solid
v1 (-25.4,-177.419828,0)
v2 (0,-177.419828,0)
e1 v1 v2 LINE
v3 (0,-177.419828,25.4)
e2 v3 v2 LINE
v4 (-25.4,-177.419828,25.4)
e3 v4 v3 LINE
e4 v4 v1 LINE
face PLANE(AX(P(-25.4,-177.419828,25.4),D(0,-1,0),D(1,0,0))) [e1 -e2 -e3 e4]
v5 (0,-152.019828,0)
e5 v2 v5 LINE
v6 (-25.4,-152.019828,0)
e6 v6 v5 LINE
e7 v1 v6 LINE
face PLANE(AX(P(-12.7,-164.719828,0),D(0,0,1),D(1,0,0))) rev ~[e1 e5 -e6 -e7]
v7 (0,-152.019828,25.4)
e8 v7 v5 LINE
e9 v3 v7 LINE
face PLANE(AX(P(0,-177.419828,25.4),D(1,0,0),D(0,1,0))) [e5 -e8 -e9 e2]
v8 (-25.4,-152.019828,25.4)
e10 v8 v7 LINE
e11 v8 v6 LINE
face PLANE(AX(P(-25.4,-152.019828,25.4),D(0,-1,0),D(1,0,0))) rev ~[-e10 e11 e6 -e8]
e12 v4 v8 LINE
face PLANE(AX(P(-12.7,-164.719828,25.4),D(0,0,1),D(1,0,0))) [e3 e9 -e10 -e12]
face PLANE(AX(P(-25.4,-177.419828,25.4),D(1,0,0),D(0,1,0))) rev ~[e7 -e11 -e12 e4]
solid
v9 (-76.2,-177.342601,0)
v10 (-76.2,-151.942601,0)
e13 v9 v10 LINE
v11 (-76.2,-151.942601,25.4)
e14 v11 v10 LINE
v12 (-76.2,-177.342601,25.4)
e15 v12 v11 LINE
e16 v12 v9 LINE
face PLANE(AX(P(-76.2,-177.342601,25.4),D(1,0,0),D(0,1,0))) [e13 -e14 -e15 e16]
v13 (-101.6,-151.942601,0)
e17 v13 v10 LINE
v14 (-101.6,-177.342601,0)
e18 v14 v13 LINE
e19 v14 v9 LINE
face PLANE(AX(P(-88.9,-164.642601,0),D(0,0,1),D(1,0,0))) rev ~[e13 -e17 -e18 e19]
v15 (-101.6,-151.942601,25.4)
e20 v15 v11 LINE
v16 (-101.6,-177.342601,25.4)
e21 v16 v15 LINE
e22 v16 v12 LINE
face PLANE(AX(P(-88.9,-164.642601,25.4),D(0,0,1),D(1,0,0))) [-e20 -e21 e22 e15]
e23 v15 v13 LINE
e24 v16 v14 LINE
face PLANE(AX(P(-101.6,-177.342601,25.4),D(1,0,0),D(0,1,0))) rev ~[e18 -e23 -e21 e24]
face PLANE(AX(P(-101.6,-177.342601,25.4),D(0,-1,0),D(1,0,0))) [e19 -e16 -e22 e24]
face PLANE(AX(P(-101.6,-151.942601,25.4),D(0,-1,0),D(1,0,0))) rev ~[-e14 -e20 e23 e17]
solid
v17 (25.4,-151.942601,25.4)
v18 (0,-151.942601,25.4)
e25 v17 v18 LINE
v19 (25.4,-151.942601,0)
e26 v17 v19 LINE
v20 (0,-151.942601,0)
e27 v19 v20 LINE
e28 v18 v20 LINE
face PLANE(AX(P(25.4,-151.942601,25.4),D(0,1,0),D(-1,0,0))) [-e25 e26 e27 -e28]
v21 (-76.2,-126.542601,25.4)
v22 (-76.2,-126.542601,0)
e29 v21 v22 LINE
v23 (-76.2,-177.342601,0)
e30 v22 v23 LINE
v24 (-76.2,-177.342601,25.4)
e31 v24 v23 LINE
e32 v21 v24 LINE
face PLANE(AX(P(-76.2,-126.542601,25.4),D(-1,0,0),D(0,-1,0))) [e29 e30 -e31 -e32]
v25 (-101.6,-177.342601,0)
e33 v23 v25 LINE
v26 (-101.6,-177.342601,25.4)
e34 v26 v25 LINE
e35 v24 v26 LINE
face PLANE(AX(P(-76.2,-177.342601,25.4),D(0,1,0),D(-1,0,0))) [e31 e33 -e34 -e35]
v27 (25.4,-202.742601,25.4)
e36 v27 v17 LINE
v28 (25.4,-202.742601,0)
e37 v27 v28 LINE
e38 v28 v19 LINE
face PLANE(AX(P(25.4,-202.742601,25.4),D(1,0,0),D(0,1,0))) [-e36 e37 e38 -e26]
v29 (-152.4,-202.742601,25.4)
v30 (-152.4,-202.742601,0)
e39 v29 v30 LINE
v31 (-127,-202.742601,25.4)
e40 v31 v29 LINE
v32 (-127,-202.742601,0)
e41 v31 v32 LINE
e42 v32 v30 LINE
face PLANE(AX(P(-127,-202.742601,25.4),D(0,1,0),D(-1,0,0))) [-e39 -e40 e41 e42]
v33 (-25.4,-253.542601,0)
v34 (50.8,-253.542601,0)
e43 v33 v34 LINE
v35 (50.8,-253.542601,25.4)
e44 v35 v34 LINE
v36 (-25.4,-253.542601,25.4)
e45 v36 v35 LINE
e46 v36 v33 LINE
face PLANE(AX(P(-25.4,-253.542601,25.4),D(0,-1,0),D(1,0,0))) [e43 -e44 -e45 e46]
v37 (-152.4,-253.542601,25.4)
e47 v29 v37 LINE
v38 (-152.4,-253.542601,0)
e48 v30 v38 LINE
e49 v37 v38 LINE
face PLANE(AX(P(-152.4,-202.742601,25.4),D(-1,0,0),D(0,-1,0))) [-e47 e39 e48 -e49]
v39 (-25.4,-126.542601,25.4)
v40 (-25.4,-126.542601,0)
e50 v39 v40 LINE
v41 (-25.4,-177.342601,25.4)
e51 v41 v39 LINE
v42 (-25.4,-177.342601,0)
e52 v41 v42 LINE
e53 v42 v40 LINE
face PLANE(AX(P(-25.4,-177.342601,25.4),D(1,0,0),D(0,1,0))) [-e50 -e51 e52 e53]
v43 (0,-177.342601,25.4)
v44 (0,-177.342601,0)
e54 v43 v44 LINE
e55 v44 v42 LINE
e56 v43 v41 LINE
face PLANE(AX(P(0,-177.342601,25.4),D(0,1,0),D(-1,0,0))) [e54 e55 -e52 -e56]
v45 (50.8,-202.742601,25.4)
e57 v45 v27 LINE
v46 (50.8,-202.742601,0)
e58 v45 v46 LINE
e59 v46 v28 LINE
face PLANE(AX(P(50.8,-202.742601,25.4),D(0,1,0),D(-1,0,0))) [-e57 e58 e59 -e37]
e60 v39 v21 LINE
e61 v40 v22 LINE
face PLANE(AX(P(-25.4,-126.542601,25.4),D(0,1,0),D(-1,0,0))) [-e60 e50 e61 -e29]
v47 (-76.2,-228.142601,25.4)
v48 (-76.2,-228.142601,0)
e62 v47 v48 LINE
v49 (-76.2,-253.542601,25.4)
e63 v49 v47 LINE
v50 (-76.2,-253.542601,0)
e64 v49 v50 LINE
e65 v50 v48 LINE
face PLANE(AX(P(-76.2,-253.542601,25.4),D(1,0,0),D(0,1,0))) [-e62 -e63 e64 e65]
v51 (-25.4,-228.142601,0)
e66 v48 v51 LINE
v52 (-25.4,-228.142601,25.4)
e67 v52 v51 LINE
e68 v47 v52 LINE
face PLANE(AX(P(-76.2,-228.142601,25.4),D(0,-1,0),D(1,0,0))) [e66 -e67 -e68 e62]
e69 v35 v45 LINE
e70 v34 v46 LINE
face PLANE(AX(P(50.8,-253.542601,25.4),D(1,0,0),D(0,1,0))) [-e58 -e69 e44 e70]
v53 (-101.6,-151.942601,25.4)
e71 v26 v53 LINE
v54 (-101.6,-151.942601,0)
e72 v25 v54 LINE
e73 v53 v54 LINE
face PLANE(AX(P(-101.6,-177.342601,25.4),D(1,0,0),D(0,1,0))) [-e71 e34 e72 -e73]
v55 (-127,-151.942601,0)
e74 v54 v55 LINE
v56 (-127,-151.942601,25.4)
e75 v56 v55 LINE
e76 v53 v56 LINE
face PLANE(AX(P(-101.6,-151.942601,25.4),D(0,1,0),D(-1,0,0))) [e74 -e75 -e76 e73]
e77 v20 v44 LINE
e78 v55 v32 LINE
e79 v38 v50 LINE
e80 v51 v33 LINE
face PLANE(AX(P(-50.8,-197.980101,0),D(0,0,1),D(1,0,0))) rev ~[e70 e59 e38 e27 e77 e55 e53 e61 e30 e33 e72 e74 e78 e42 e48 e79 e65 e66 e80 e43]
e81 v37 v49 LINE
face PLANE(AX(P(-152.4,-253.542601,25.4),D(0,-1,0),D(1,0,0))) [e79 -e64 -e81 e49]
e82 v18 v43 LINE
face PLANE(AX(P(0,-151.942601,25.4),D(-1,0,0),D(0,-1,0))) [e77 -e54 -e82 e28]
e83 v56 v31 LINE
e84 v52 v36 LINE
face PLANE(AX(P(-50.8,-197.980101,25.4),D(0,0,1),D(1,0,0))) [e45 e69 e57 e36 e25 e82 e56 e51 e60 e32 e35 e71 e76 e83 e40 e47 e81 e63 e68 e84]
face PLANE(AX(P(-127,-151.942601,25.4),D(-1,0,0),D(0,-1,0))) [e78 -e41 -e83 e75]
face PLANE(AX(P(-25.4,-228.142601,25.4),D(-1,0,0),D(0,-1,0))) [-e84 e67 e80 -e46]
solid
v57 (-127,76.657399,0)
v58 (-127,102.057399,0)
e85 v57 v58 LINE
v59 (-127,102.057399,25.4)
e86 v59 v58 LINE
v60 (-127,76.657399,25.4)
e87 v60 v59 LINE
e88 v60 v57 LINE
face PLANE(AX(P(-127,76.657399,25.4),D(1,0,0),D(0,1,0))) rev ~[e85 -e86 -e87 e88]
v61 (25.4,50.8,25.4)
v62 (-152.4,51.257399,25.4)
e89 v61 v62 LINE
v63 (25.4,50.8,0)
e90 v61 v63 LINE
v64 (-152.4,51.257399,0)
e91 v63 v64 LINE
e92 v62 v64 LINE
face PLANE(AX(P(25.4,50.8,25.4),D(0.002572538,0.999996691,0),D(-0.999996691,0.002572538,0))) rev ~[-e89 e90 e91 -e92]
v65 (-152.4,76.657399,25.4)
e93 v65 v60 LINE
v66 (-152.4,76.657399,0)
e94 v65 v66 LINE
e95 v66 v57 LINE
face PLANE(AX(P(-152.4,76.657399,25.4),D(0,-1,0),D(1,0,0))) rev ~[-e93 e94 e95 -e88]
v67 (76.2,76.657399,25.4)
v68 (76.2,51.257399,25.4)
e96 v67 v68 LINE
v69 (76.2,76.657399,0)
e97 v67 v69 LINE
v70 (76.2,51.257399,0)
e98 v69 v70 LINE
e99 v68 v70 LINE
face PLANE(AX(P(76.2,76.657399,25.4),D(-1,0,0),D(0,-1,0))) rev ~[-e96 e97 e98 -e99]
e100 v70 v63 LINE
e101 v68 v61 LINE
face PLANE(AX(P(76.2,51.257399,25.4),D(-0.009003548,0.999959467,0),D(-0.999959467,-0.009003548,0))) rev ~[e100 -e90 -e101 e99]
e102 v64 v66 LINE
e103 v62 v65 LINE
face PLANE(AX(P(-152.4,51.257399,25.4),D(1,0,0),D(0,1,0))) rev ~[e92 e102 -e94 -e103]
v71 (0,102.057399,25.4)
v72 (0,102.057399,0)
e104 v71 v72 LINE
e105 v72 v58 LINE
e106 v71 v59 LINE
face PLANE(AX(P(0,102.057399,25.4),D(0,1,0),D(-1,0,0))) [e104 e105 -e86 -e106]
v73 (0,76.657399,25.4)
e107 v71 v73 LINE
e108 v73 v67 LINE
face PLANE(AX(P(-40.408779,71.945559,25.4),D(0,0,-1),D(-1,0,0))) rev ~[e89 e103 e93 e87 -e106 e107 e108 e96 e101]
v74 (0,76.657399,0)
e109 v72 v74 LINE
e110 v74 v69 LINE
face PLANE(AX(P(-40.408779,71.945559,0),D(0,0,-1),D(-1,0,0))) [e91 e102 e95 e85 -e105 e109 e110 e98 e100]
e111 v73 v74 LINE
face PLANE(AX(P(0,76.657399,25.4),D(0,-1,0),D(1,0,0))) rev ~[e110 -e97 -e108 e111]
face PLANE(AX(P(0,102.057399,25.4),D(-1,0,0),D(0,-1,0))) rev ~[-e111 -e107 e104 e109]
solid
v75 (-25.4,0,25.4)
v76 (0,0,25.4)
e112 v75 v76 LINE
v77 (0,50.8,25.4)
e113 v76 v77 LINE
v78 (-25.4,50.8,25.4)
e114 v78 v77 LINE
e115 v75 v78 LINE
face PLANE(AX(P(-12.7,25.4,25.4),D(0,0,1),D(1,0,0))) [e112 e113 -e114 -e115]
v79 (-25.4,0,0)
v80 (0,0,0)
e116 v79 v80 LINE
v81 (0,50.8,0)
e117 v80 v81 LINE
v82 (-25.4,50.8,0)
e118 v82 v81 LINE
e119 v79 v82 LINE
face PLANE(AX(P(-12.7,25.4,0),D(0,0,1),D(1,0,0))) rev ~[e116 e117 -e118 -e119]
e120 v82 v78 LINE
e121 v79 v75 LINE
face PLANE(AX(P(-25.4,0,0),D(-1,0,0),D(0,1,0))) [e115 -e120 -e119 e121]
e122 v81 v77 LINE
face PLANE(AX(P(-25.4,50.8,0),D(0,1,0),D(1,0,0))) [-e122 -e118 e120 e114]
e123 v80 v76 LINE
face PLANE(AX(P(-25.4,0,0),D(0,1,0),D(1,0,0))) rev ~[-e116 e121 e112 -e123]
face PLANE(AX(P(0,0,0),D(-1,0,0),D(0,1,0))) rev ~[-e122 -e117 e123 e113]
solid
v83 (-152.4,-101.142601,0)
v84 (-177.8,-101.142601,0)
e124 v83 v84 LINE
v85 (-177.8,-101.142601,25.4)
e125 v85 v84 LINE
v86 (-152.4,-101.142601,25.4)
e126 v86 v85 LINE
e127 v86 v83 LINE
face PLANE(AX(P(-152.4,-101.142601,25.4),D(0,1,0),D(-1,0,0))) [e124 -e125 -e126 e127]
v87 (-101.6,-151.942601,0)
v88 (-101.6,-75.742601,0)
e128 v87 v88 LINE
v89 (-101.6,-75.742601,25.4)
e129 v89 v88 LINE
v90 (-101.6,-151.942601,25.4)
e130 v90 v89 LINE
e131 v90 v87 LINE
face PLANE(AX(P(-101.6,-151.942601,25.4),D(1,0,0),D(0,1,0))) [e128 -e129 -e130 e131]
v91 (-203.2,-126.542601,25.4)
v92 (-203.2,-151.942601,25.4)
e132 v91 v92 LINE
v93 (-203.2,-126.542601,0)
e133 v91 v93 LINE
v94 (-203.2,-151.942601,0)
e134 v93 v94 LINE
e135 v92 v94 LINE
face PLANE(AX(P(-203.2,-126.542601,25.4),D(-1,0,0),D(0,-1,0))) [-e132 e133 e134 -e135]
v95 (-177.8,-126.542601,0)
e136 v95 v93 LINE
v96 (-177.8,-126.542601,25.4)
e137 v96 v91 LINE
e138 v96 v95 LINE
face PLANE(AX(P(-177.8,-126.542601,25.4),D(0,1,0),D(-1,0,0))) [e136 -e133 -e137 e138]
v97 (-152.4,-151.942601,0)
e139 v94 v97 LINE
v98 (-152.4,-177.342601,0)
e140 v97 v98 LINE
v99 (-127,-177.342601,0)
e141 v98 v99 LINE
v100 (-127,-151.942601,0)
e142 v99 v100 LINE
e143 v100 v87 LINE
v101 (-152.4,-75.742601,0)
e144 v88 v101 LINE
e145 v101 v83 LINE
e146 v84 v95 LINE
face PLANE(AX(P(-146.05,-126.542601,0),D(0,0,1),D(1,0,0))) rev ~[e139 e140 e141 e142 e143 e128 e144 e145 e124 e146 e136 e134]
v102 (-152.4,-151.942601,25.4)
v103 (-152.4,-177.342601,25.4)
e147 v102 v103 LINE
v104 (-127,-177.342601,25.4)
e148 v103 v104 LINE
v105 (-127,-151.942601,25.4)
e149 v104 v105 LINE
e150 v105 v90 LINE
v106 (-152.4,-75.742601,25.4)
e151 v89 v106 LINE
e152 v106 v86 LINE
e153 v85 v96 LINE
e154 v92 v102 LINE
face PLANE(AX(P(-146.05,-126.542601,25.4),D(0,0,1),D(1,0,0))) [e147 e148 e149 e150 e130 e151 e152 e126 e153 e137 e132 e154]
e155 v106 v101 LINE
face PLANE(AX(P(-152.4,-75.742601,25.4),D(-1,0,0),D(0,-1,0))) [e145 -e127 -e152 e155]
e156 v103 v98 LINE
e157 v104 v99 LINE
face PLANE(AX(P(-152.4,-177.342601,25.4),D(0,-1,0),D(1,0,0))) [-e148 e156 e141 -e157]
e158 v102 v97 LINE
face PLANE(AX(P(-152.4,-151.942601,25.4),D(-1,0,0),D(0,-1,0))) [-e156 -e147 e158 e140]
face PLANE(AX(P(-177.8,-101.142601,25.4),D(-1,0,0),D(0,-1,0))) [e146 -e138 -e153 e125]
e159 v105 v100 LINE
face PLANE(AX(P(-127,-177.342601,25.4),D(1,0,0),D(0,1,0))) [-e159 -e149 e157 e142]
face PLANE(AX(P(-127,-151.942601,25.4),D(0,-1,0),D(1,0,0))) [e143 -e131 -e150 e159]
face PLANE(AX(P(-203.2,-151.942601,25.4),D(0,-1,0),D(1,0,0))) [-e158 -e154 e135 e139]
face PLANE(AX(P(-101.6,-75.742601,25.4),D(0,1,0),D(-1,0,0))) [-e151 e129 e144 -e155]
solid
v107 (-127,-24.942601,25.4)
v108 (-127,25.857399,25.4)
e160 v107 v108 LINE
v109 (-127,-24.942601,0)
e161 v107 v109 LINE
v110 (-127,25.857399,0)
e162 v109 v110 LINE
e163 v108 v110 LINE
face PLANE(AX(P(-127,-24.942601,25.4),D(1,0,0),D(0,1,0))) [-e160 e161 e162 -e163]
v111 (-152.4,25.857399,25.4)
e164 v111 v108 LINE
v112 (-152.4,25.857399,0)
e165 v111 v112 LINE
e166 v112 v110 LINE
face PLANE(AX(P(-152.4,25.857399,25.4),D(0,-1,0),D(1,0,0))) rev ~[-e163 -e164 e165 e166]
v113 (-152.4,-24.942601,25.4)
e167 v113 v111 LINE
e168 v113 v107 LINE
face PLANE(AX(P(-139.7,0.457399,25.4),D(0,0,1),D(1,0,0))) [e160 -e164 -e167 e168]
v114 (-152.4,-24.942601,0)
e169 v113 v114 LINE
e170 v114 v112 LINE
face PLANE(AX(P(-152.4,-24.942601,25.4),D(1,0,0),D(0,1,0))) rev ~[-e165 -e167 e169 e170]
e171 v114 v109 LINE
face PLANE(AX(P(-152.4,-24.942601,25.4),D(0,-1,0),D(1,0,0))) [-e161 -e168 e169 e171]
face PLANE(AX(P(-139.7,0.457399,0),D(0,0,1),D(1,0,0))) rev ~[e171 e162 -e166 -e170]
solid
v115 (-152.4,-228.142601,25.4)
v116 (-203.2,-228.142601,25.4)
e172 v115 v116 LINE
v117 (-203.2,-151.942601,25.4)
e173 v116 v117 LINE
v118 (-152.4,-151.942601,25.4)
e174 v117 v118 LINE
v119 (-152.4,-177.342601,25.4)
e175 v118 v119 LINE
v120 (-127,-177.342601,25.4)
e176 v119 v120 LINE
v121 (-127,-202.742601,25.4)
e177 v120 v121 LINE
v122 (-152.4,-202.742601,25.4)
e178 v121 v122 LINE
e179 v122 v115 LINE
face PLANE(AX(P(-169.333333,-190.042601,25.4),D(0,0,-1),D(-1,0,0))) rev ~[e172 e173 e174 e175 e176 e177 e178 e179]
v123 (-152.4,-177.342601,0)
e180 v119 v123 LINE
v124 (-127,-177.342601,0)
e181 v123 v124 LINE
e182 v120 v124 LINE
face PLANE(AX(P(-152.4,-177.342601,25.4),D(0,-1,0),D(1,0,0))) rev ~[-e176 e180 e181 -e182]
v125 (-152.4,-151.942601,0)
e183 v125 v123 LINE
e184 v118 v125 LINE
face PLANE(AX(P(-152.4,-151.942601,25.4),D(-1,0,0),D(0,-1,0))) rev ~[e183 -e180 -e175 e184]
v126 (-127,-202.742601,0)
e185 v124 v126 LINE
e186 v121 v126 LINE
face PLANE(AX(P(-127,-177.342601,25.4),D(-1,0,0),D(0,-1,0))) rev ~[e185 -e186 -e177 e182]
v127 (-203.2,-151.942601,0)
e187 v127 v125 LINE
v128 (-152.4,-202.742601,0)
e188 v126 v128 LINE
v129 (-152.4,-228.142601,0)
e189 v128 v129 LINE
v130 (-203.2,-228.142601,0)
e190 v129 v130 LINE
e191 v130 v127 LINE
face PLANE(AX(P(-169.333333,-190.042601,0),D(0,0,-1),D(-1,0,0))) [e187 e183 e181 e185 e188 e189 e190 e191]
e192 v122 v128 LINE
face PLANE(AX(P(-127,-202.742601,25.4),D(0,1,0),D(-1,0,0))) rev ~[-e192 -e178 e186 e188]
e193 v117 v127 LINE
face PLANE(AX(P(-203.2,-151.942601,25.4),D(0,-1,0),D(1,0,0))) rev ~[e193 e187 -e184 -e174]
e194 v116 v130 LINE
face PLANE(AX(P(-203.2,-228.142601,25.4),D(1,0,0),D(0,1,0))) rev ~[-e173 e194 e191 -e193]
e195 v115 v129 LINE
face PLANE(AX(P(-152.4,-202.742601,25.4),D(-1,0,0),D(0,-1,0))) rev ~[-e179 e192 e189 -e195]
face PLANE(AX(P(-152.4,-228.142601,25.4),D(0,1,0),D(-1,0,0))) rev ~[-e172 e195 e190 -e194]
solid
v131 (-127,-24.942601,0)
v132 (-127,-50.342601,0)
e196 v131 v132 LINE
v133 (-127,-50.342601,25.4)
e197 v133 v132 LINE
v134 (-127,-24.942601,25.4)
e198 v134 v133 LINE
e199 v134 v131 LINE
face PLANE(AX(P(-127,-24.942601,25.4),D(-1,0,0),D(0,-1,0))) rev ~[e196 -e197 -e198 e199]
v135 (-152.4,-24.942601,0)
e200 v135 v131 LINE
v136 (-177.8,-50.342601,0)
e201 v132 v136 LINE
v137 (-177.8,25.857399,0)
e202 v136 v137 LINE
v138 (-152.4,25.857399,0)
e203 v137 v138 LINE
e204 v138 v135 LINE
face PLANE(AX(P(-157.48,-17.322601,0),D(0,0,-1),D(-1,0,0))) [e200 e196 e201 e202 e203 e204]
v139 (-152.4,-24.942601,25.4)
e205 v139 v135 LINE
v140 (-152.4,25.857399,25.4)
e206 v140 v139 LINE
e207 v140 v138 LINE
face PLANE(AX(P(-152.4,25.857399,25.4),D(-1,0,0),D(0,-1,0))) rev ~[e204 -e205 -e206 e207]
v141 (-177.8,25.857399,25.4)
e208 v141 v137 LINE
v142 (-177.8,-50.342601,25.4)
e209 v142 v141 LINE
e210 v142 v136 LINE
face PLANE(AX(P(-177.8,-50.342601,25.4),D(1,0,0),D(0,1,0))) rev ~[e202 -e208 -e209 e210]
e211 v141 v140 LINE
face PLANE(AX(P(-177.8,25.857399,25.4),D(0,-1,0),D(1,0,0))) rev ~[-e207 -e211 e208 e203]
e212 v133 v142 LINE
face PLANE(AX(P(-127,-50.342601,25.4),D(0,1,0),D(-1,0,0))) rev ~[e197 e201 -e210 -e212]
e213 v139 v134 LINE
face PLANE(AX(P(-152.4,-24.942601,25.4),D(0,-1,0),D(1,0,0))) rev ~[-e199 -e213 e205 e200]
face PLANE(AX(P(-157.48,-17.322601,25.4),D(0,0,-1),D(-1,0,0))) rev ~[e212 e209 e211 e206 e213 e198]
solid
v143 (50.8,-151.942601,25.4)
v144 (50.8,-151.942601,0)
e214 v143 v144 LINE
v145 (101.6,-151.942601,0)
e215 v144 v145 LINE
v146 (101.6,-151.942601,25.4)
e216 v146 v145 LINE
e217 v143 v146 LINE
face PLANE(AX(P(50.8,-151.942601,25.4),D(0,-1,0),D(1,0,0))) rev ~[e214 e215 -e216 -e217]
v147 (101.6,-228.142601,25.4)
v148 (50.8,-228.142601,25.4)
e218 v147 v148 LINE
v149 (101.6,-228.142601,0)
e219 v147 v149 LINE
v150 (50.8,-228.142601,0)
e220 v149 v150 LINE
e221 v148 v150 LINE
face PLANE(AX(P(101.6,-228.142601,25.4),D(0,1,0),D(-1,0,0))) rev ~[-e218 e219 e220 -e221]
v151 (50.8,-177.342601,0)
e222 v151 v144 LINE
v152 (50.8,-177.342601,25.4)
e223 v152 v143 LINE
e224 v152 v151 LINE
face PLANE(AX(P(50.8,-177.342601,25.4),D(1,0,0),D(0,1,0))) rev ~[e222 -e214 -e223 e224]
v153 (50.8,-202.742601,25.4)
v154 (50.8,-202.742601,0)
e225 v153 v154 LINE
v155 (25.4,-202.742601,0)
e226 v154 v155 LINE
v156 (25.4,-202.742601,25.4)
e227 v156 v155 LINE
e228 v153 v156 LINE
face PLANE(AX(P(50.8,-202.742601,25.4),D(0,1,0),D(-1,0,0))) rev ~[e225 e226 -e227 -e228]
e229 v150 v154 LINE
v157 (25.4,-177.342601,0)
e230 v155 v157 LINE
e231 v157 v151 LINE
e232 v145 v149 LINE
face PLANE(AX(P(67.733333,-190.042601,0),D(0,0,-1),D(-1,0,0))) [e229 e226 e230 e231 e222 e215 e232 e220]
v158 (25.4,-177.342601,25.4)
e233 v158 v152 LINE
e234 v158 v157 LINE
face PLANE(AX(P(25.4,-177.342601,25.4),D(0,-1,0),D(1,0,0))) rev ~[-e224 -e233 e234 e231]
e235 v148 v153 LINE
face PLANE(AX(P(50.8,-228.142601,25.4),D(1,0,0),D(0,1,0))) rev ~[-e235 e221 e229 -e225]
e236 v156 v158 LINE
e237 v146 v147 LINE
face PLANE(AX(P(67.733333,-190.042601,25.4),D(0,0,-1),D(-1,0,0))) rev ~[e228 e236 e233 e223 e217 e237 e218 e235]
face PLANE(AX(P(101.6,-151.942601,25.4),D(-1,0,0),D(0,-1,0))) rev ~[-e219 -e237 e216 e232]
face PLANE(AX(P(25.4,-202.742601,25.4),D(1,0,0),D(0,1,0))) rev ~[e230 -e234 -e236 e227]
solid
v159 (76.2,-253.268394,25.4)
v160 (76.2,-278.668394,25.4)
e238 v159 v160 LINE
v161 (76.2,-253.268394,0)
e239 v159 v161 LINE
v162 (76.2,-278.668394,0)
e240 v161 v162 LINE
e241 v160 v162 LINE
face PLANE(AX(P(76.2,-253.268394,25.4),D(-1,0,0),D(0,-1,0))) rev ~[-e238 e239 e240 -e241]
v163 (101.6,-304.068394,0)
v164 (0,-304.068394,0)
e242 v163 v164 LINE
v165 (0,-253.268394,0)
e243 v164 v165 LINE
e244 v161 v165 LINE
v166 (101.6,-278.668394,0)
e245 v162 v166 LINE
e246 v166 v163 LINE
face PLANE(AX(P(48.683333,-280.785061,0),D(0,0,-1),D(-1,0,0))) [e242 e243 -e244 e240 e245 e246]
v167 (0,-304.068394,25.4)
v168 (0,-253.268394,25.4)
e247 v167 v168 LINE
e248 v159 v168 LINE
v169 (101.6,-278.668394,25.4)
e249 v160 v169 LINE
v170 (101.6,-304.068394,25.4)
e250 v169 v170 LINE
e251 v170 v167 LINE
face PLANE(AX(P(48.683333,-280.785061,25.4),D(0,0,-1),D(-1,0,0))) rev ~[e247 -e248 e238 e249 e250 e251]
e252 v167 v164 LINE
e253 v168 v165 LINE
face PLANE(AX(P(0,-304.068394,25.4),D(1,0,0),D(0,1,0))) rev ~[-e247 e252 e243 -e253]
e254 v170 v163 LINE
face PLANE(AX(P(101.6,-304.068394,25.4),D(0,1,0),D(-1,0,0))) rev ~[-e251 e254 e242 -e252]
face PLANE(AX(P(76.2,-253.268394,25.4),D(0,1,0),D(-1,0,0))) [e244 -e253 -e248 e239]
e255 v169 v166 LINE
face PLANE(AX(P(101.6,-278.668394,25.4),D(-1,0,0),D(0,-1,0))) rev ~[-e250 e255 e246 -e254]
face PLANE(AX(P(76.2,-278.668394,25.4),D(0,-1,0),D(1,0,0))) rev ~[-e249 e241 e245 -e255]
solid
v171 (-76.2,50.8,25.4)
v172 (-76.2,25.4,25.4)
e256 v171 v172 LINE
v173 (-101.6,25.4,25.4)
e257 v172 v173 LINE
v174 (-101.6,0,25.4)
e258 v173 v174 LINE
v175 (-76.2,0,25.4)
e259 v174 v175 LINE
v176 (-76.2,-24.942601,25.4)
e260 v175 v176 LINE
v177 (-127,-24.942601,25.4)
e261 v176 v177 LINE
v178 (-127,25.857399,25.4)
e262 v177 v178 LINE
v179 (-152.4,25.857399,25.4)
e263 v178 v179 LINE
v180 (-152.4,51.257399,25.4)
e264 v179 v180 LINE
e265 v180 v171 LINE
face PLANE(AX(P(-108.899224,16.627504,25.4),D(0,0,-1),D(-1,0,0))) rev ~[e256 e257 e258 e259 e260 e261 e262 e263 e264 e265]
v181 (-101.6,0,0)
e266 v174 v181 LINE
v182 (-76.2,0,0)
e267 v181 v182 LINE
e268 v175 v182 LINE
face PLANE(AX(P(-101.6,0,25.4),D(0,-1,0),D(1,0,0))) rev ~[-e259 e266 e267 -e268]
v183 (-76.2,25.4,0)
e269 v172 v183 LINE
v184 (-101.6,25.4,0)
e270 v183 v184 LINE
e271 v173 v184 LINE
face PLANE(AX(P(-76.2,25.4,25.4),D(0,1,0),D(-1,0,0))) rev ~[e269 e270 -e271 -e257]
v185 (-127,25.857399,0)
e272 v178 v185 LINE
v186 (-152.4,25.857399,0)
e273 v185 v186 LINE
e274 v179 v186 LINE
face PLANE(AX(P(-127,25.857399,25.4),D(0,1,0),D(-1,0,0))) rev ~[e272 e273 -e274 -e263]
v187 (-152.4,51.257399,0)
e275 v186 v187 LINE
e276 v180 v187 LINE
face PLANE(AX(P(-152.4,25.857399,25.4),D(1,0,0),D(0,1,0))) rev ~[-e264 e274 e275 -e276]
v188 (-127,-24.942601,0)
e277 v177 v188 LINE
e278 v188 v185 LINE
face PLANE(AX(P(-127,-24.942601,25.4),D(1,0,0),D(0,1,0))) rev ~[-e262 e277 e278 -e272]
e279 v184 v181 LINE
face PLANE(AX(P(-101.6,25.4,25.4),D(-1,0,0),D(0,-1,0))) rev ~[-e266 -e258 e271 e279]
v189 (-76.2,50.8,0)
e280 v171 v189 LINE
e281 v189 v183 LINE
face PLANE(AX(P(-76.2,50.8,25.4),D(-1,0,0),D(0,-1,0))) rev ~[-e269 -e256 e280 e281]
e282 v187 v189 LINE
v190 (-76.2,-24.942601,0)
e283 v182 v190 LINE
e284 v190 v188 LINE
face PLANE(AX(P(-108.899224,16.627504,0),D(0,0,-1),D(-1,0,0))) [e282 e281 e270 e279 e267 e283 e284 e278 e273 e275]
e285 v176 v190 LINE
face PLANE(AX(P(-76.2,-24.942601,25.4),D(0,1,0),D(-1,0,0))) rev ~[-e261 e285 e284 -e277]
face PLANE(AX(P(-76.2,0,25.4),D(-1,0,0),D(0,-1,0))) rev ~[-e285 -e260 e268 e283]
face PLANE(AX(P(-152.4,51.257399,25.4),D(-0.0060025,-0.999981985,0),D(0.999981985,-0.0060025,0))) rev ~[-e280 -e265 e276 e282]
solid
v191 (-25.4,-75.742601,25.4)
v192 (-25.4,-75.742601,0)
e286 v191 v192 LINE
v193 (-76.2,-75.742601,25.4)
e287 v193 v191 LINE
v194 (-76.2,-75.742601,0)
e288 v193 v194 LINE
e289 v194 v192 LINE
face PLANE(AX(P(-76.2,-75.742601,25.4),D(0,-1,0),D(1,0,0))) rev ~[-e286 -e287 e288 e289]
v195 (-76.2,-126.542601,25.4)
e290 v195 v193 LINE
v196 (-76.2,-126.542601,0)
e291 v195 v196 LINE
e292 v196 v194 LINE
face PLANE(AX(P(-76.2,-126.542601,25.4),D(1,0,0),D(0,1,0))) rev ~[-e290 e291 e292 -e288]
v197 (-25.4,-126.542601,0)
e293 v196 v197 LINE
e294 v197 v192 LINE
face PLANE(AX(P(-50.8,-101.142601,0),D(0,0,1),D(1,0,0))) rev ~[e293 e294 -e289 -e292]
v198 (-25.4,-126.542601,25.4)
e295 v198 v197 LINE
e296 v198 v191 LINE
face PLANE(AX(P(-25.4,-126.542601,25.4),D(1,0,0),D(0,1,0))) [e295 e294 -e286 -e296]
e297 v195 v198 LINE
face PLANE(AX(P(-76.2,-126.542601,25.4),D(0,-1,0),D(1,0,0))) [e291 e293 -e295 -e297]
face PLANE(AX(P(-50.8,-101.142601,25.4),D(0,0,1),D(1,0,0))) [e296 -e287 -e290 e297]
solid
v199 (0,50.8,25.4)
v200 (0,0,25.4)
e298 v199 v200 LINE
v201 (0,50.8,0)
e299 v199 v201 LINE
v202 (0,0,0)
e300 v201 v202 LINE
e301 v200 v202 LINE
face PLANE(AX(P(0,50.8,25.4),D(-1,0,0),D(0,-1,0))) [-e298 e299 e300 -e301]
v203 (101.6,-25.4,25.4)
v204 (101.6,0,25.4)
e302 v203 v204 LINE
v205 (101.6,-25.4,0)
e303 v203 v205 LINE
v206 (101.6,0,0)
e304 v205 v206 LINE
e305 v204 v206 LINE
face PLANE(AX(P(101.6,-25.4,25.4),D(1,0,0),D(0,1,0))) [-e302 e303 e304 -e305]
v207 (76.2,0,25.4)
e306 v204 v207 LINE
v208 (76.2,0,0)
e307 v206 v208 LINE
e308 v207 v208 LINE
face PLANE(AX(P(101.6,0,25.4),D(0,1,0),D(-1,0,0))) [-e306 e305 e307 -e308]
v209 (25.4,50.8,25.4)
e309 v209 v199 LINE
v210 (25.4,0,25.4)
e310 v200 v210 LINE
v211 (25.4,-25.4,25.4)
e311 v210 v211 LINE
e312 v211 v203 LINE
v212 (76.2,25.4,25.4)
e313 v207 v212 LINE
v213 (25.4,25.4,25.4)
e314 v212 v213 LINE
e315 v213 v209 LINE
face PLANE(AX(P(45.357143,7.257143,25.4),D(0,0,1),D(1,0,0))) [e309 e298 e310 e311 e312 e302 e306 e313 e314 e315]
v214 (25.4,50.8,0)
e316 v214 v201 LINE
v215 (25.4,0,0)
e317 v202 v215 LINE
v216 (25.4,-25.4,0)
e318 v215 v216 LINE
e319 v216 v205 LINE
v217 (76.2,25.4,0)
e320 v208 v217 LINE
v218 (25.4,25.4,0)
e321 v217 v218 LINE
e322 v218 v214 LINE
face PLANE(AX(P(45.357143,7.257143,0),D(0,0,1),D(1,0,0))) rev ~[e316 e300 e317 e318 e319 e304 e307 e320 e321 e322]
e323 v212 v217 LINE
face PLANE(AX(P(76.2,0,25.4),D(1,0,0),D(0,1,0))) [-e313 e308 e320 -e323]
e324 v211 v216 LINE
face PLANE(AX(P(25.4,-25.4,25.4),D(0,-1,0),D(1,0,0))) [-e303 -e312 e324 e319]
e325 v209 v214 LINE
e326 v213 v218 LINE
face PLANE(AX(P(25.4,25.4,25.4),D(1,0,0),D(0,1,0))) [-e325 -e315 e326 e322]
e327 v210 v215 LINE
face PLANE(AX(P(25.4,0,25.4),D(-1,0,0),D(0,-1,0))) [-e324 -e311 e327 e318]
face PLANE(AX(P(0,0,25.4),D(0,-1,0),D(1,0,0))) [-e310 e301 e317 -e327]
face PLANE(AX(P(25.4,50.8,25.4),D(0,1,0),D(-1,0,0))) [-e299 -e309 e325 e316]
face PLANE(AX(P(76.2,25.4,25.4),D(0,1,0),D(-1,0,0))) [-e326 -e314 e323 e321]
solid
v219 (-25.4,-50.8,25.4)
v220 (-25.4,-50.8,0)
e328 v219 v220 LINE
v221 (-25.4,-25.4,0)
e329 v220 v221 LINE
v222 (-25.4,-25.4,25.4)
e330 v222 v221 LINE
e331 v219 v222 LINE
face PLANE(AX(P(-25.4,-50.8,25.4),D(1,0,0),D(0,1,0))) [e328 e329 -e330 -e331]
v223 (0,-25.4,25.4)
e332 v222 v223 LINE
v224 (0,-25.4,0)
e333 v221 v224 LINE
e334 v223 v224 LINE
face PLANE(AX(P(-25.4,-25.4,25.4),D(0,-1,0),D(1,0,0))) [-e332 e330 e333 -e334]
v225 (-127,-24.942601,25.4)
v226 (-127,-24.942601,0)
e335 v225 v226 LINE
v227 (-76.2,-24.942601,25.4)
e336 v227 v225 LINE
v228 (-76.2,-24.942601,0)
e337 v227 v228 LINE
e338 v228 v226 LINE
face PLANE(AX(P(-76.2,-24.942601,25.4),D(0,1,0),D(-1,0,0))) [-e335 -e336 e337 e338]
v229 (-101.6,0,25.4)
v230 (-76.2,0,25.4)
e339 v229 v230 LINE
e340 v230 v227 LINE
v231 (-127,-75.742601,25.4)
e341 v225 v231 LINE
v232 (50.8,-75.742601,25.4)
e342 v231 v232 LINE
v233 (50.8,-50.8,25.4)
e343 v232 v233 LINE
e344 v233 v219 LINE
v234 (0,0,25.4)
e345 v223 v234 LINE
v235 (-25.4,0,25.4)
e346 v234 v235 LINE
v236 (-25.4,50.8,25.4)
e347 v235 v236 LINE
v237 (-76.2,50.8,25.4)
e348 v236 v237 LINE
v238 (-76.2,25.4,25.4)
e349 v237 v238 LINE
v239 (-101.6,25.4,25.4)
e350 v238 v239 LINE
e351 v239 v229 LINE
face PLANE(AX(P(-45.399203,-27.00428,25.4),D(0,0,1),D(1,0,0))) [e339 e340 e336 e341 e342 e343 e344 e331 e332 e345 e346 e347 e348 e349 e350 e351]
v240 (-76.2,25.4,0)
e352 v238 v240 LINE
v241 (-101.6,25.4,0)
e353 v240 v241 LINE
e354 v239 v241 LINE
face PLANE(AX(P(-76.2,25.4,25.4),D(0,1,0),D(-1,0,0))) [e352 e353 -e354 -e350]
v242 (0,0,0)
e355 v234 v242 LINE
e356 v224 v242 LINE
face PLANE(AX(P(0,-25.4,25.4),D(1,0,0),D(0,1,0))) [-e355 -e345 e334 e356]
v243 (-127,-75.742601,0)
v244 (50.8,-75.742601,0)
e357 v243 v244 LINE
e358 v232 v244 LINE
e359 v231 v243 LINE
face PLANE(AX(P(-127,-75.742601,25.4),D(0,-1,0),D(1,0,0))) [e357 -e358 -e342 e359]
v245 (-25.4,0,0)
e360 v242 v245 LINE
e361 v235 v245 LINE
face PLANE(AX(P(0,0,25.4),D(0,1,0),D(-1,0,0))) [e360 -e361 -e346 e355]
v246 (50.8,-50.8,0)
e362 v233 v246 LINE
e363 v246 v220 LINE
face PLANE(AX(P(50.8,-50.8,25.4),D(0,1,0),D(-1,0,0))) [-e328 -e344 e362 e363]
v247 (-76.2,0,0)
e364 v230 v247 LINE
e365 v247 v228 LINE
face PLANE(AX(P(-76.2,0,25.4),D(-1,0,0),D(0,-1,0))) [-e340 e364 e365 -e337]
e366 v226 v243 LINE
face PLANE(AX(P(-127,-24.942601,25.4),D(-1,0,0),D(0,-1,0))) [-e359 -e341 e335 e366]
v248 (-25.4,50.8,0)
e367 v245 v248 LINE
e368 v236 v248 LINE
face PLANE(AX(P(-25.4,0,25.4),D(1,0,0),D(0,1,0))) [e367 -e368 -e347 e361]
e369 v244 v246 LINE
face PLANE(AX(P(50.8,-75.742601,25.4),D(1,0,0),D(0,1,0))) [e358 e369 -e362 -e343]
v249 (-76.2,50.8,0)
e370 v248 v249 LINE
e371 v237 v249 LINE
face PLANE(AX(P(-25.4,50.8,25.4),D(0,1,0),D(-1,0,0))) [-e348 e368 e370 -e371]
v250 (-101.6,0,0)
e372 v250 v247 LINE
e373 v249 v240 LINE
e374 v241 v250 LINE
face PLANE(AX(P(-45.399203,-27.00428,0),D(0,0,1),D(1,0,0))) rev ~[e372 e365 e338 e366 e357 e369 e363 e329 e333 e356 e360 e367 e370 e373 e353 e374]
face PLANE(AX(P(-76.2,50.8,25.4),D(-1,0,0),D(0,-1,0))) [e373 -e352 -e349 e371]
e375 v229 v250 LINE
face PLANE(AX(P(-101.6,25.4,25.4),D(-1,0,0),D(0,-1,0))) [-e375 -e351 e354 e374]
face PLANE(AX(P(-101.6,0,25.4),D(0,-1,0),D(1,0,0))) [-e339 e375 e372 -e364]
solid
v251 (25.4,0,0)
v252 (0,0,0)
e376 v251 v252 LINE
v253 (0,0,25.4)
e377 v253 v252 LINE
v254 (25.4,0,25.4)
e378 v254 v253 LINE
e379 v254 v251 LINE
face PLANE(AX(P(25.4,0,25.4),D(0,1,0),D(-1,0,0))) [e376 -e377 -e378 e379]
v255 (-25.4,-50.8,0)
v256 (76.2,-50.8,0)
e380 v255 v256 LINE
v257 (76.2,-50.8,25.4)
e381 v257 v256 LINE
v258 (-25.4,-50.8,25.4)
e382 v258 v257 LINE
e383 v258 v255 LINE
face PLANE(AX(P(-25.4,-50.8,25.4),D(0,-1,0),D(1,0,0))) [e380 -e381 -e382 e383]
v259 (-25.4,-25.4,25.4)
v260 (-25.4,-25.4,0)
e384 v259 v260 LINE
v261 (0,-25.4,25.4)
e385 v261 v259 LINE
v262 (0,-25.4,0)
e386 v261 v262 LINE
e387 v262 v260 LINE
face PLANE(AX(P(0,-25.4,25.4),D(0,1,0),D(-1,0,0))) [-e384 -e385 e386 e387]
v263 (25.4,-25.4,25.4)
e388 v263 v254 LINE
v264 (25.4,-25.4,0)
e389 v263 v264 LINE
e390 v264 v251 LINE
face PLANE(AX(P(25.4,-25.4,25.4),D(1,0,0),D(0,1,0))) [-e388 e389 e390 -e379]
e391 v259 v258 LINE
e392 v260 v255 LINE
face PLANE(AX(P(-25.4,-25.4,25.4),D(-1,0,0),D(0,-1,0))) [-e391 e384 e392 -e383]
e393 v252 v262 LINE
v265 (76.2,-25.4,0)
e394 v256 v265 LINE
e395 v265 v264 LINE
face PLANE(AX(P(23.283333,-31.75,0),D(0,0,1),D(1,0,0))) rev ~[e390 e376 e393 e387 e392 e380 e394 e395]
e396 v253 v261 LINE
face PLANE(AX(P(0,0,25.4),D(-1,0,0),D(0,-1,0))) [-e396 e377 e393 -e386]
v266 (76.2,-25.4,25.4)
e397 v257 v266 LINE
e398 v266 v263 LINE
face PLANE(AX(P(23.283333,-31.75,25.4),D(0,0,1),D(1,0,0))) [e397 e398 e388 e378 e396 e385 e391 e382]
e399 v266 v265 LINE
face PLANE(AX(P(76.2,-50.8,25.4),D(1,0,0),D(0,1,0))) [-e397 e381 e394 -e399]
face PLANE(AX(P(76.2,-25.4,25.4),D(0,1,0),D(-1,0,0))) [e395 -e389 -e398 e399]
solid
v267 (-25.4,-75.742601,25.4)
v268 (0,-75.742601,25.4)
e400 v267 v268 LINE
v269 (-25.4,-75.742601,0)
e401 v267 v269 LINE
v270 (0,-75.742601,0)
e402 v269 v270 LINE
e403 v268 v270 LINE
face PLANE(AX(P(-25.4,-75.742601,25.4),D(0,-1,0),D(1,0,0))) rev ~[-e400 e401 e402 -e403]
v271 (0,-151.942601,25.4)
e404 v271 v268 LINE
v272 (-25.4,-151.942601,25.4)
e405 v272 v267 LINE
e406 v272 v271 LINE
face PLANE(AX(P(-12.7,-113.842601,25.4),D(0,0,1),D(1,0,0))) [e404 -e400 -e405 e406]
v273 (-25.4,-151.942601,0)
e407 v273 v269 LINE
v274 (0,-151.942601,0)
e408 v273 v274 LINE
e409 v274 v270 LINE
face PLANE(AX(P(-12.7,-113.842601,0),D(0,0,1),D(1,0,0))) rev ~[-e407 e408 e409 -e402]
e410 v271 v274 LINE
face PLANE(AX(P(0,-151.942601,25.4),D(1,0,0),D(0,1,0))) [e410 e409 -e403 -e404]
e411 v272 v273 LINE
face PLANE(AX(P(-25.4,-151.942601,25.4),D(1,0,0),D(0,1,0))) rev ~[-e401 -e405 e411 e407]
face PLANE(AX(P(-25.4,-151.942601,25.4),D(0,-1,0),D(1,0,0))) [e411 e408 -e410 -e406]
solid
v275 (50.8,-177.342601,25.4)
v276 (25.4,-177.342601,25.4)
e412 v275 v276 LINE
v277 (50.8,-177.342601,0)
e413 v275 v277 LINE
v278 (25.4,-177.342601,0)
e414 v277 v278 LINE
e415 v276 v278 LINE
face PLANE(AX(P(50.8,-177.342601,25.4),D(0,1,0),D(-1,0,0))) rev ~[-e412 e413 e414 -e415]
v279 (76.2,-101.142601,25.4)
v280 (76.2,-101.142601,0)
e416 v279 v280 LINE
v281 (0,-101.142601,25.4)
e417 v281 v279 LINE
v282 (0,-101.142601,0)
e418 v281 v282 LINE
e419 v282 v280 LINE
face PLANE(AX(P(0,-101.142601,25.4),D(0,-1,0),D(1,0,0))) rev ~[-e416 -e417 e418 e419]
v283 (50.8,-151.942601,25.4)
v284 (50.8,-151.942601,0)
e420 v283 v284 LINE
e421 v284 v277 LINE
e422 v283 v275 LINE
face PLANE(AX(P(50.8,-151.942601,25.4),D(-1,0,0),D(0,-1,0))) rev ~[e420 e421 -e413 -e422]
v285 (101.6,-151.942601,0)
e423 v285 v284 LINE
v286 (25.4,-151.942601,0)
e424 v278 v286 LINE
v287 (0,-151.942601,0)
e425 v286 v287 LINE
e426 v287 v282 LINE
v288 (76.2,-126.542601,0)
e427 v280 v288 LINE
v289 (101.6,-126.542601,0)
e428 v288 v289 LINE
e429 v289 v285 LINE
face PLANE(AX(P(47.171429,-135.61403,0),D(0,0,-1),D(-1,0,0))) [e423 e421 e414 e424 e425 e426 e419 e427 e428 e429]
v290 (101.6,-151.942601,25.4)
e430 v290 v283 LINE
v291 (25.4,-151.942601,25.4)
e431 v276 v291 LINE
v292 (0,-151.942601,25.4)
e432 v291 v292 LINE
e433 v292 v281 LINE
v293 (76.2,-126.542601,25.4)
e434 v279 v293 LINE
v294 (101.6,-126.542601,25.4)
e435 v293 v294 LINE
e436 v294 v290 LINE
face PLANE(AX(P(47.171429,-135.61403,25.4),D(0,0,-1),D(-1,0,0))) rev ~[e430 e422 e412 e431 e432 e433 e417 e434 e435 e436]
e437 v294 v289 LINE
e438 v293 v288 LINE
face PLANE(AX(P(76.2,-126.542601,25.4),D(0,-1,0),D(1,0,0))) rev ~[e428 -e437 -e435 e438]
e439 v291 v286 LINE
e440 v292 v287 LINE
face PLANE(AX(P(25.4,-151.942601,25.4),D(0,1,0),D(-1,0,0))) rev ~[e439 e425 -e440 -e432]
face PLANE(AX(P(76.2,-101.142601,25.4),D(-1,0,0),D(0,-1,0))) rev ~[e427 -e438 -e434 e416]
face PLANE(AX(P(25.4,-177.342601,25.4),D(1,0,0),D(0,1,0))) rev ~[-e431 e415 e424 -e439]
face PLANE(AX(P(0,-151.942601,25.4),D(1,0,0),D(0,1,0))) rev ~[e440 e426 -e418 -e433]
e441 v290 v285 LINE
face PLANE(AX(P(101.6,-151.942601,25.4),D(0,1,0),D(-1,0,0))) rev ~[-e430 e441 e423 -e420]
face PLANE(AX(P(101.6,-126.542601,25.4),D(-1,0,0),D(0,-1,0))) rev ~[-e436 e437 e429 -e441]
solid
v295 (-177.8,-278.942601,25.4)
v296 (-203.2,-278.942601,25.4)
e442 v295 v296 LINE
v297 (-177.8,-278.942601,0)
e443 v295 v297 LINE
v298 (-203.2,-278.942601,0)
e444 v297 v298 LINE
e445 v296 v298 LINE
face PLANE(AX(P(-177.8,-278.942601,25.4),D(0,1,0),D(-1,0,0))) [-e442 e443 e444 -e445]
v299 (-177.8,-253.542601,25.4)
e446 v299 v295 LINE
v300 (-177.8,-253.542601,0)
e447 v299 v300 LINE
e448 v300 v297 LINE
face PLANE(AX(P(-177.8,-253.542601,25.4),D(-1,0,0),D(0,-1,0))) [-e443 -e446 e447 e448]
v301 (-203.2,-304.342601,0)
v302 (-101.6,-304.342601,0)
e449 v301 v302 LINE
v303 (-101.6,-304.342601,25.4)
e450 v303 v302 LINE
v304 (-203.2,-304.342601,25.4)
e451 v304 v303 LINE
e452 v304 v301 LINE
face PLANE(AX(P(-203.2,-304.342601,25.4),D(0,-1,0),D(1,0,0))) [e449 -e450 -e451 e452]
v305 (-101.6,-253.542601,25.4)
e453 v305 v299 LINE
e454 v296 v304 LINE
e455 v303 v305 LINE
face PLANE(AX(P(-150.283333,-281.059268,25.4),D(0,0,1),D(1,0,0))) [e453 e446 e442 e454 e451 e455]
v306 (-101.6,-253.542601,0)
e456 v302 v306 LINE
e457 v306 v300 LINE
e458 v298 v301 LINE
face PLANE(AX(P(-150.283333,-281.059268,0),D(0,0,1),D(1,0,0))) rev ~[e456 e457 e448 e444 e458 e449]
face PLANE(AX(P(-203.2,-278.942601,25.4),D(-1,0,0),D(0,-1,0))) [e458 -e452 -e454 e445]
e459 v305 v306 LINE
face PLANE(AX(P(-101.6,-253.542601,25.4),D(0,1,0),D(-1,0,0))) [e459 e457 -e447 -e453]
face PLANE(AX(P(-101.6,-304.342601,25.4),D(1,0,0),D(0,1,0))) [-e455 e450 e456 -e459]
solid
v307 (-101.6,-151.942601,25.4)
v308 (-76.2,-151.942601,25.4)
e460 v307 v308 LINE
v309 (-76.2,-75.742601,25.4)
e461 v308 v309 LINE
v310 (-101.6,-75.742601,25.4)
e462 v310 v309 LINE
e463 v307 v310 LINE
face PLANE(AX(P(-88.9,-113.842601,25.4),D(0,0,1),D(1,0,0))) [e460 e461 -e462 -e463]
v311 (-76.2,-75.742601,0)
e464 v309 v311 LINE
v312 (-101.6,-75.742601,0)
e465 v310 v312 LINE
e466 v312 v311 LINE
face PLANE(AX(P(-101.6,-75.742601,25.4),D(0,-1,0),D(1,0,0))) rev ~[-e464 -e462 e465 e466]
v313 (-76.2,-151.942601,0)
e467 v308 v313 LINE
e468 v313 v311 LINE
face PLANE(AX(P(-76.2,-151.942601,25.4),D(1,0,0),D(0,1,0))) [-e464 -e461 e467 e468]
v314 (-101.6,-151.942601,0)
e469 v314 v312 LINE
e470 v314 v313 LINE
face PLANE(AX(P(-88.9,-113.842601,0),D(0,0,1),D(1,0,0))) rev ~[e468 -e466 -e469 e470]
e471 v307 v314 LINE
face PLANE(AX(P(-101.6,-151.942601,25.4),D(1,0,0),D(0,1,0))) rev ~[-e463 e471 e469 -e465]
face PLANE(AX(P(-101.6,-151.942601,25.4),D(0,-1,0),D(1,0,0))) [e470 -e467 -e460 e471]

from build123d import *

# Parameters (mm, degrees)
SKETCH1_W              = 25.4
SKETCH1_H              = 50.8
BOSS_EXTRUDE1_DEPTH    = 25.4
BOSS_EXTRUDE2_DEPTH    = 25.4
BOSS_EXTRUDE10_DEPTH   = 25.4
BOSS_EXTRUDE12_DEPTH   = 25.4
BOSS_EXTRUDE13_DEPTH   = 25.4
SKETCH8_W              = 25.4
SKETCH8_H              = 50.8
BOSS_EXTRUDE14_DEPTH   = 25.4
BOSS_EXTRUDE15_DEPTH   = 25.4
BOSS_EXTRUDE16_DEPTH   = 25.4
SKETCH11_W             = 50.8
SKETCH11_H             = 50.8
BOSS_EXTRUDE17_DEPTH   = 25.4
BOSS_EXTRUDE17_2_DEPTH = 25.4
BOSS_EXTRUDE26_DEPTH   = 25.4
SKETCH23_W             = 25.4
SKETCH23_H             = 76.2
BOSS_EXTRUDE35_DEPTH   = 25.4
BOSS_EXTRUDE35_2_DEPTH = 25.4
SKETCH12_W             = 25.4
SKETCH12_H             = 25.4
BOSS_EXTRUDE36_DEPTH   = 25.4
BOSS_EXTRUDE36_2_DEPTH = 25.4
BOSS_EXTRUDE37_DEPTH   = 25.4
BOSS_EXTRUDE38_DEPTH   = 25.4
BOSS_EXTRUDE39_DEPTH   = 25.4
BOSS_EXTRUDE40_DEPTH   = 25.4
BOSS_EXTRUDE41_DEPTH   = 25.4


with BuildPart() as part:
    # Sketch1 → Boss-Extrude1 (new body)
    with BuildSketch(Plane.XY):
        with Locations((-12.7, 25.4)):
            Rectangle(SKETCH1_W, SKETCH1_H)
    extrude(amount=BOSS_EXTRUDE1_DEPTH)


with BuildPart() as body_2:
    # Sketch2 → Boss-Extrude2 (new body)
    with BuildSketch(Plane.XY.offset(25.4)):
        Polygon((0, 0), (0, -25.4), (-25.4, -25.4), (-25.4, -50.8), (76.2, -50.8), (76.2, -25.4), (25.4, -25.4), (25.4, 0), align=None)
    extrude(amount=-BOSS_EXTRUDE2_DEPTH)


with BuildPart() as body_3:
    # Sketch3 → Boss-Extrude10 (new body)
    with BuildSketch(Plane.XY.offset(25.4)):
        Polygon((76.2, -25.4), (101.6, -25.4), (101.6, 0), (76.2, 0), (76.2, 25.4), (25.4, 25.4), (25.4, 50.8), (0, 50.8), (0, 0), (25.4, 0), (25.4, -25.4), align=None)
    extrude(amount=-BOSS_EXTRUDE10_DEPTH)


with BuildPart() as body_4:
    # Sketch6 → Boss-Extrude12 (new body)
    with BuildSketch(Plane.XY.offset(25.4)):
        Polygon((-25.4, 50.8), (-76.2, 50.8), (-76.2, 25.4), (-101.6, 25.4), (-101.6, 0), (-76.2, 0), (-76.2, -24.942601225), (-127, -24.942601225), (-127, -75.742601225), (50.8, -75.742601225), (50.8, -50.8), (-25.4, -50.8), (-25.4, -25.4), (0, -25.4), (0, 0), (-25.4, 0), align=None)
    extrude(amount=-BOSS_EXTRUDE12_DEPTH)


with BuildPart() as body_5:
    # Sketch7 → Boss-Extrude13 (new body)
    with BuildSketch(Plane.XY.offset(25.4)):
        Polygon((-127, -24.942601225), (-127, 25.857398775), (-152.4, 25.857398775), (-152.4, 51.257398775), (-76.2, 50.8), (-76.2, 25.4), (-101.6, 25.4), (-101.6, 0), (-76.2, 0), (-76.2, -24.942601225), align=None)
    extrude(amount=-BOSS_EXTRUDE13_DEPTH)


with BuildPart() as body_6:
    # Sketch8 → Boss-Extrude14 (new body)
    with BuildSketch(Plane.XY.offset(25.4)):
        with Locations((-139.7, 0.457398775)):
            Rectangle(SKETCH8_W, SKETCH8_H)
    extrude(amount=-BOSS_EXTRUDE14_DEPTH)


with BuildPart() as body_7:
    # Sketch9 → Boss-Extrude15 (new body)
    with BuildSketch(Plane.XY.offset(25.4)):
        Polygon((-152.4, 25.857398775), (-152.4, -24.942601225), (-127, -24.942601225), (-127, -50.342601225), (-177.8, -50.342601225), (-177.8, 25.857398775), align=None)
    extrude(amount=-BOSS_EXTRUDE15_DEPTH)


with BuildPart() as body_8:
    # Sketch10 → Boss-Extrude16 (new body)
    with BuildSketch(Plane.XY.offset(25.4)):
        Polygon((-152.4, 51.257398775), (-152.4, 76.657398775), (-127, 76.657398775), (-127, 102.057398775), (-22.654819882, 102.057398775), (0, 102.057398775), (0, 76.657398775), (76.2, 76.657398775), (76.2, 51.257398775), (25.4, 50.8), align=None)
    extrude(amount=-BOSS_EXTRUDE16_DEPTH)


with BuildPart() as body_9:
    # Sketch11 → Boss-Extrude17 (new body)
    with BuildSketch(Plane.XY.offset(25.4)):
        with Locations((-50.8, -101.142601225)):
            Rectangle(SKETCH11_W, SKETCH11_H)
    extrude(amount=-BOSS_EXTRUDE17_DEPTH)


with BuildPart() as body_10:
    # Sketch11 → Boss-Extrude17 2 (new body)
    with BuildSketch(Plane.XY.offset(25.4)):
        Polygon((-101.6, -151.942601225), (-101.6, -75.742601225), (-127, -75.742601225), (-152.4, -75.742601225), (-152.4, -101.142601225), (-177.8, -101.142601225), (-177.8, -126.542601225), (-203.2, -126.542601225), (-203.2, -151.942601225), (-152.4, -151.942601225), (-152.4, -177.342601225), (-127, -177.342601225), (-127, -151.942601225), align=None)
    extrude(amount=-BOSS_EXTRUDE17_2_DEPTH)


with BuildPart() as body_11:
    # Sketch13 → Boss-Extrude26 (new body)
    with BuildSketch(Plane.XY.offset(25.4)):
        Polygon((-152.4, -177.342601225), (-127, -177.342601225), (-127, -202.742601225), (-152.4, -202.742601225), (-152.4, -228.142601225), (-203.2, -228.142601225), (-203.2, -151.942601225), (-152.4, -151.942601225), align=None)
    extrude(amount=-BOSS_EXTRUDE26_DEPTH)


with BuildPart() as body_12:
    # Sketch23 → Boss-Extrude35 (new body)
    with BuildSketch(Plane.XY.offset(25.4)):
        with Locations((-88.9, -113.842601225)):
            Rectangle(SKETCH23_W, SKETCH23_H)
    extrude(amount=-BOSS_EXTRUDE35_DEPTH)


with BuildPart() as body_13:
    # Sketch23 → Boss-Extrude35 2 (new body)
    with BuildSketch(Plane.XY.offset(25.4)):
        with Locations((-12.7, -113.842601225)):
            Rectangle(SKETCH23_W, SKETCH23_H)
    extrude(amount=-BOSS_EXTRUDE35_2_DEPTH)


with BuildPart() as body_14:
    # Sketch12 → Boss-Extrude36 (new body)
    with BuildSketch(Plane.XY.offset(25.4)):
        with Locations((-88.9, -164.642601225)):
            Rectangle(SKETCH12_W, SKETCH12_H)
    extrude(amount=-BOSS_EXTRUDE36_DEPTH)


with BuildPart() as body_15:
    # Sketch12 → Boss-Extrude36 2 (new body)
    with BuildSketch(Plane.XY.offset(25.4)):
        with Locations((-12.7, -164.719828194)):
            Rectangle(SKETCH12_W, SKETCH12_H)
    extrude(amount=-BOSS_EXTRUDE36_2_DEPTH)


with BuildPart() as body_16:
    # Sketch24 → Boss-Extrude37 (new body)
    with BuildSketch(Plane.XY.offset(25.4)):
        Polygon((-25.4, -126.542601225), (-76.2, -126.542601225), (-76.2, -177.342601225), (-101.6, -177.342601225), (-101.6, -151.942601225), (-127, -151.942601225), (-127, -202.742601225), (-152.4, -202.742601225), (-152.4, -253.542601225), (-76.2, -253.542601225), (-76.2, -228.142601225), (-25.4, -228.142601225), (-25.4, -253.542601225), (50.8, -253.542601225), (50.8, -202.742601225), (25.4, -202.742601225), (25.4, -151.942601225), (0, -151.942601225), (0, -177.342601225), (-25.4, -177.342601225), align=None)
    extrude(amount=-BOSS_EXTRUDE37_DEPTH)


with BuildPart() as body_17:
    # Sketch25 → Boss-Extrude38 (new body)
    with BuildSketch(Plane.XY.offset(25.4)):
        Polygon((-152.4, -253.542601225), (-177.8, -253.542601225), (-177.8, -278.942601225), (-203.2, -278.942601225), (-203.2, -304.342601225), (-101.6, -304.342601225), (-101.6, -253.542601225), align=None)
    extrude(amount=-BOSS_EXTRUDE38_DEPTH)


with BuildPart() as body_18:
    # Sketch26 → Boss-Extrude39 (new body)
    with BuildSketch(Plane.XY.offset(25.4)):
        Polygon((50.8, -253.26839435), (76.2, -253.26839435), (76.2, -278.66839435), (101.6, -278.66839435), (101.6, -304.06839435), (0, -304.06839435), (0, -253.26839435), align=None)
    extrude(amount=-BOSS_EXTRUDE39_DEPTH)


with BuildPart() as body_19:
    # Sketch27 → Boss-Extrude40 (new body)
    with BuildSketch(Plane.XY.offset(25.4)):
        Polygon((25.4, -151.942601225), (0, -151.942601225), (0, -101.142601225), (76.2, -101.142601225), (76.2, -126.542601225), (101.6, -126.542601225), (101.6, -151.942601225), (50.8, -151.942601225), (50.8, -177.342601225), (25.4, -177.342601225), align=None)
    extrude(amount=-BOSS_EXTRUDE40_DEPTH)


with BuildPart() as body_20:
    # Sketch28 → Boss-Extrude41 (new body)
    with BuildSketch(Plane.XY.offset(25.4)):
        Polygon((25.4, -177.342601225), (50.8, -177.342601225), (50.8, -151.942601225), (101.6, -151.942601225), (101.6, -228.142601225), (50.8, -228.142601225), (50.8, -202.742601225), (25.4, -202.742601225), align=None)
    extrude(amount=-BOSS_EXTRUDE41_DEPTH)


solid = Compound([part.part, body_2.part, body_3.part, body_4.part, body_5.part, body_6.part, body_7.part, body_8.part, body_9.part, body_10.part, body_11.part, body_12.part, body_13.part, body_14.part, body_15.part, body_16.part, body_17.part, body_18.part, body_19.part, body_20.part])
